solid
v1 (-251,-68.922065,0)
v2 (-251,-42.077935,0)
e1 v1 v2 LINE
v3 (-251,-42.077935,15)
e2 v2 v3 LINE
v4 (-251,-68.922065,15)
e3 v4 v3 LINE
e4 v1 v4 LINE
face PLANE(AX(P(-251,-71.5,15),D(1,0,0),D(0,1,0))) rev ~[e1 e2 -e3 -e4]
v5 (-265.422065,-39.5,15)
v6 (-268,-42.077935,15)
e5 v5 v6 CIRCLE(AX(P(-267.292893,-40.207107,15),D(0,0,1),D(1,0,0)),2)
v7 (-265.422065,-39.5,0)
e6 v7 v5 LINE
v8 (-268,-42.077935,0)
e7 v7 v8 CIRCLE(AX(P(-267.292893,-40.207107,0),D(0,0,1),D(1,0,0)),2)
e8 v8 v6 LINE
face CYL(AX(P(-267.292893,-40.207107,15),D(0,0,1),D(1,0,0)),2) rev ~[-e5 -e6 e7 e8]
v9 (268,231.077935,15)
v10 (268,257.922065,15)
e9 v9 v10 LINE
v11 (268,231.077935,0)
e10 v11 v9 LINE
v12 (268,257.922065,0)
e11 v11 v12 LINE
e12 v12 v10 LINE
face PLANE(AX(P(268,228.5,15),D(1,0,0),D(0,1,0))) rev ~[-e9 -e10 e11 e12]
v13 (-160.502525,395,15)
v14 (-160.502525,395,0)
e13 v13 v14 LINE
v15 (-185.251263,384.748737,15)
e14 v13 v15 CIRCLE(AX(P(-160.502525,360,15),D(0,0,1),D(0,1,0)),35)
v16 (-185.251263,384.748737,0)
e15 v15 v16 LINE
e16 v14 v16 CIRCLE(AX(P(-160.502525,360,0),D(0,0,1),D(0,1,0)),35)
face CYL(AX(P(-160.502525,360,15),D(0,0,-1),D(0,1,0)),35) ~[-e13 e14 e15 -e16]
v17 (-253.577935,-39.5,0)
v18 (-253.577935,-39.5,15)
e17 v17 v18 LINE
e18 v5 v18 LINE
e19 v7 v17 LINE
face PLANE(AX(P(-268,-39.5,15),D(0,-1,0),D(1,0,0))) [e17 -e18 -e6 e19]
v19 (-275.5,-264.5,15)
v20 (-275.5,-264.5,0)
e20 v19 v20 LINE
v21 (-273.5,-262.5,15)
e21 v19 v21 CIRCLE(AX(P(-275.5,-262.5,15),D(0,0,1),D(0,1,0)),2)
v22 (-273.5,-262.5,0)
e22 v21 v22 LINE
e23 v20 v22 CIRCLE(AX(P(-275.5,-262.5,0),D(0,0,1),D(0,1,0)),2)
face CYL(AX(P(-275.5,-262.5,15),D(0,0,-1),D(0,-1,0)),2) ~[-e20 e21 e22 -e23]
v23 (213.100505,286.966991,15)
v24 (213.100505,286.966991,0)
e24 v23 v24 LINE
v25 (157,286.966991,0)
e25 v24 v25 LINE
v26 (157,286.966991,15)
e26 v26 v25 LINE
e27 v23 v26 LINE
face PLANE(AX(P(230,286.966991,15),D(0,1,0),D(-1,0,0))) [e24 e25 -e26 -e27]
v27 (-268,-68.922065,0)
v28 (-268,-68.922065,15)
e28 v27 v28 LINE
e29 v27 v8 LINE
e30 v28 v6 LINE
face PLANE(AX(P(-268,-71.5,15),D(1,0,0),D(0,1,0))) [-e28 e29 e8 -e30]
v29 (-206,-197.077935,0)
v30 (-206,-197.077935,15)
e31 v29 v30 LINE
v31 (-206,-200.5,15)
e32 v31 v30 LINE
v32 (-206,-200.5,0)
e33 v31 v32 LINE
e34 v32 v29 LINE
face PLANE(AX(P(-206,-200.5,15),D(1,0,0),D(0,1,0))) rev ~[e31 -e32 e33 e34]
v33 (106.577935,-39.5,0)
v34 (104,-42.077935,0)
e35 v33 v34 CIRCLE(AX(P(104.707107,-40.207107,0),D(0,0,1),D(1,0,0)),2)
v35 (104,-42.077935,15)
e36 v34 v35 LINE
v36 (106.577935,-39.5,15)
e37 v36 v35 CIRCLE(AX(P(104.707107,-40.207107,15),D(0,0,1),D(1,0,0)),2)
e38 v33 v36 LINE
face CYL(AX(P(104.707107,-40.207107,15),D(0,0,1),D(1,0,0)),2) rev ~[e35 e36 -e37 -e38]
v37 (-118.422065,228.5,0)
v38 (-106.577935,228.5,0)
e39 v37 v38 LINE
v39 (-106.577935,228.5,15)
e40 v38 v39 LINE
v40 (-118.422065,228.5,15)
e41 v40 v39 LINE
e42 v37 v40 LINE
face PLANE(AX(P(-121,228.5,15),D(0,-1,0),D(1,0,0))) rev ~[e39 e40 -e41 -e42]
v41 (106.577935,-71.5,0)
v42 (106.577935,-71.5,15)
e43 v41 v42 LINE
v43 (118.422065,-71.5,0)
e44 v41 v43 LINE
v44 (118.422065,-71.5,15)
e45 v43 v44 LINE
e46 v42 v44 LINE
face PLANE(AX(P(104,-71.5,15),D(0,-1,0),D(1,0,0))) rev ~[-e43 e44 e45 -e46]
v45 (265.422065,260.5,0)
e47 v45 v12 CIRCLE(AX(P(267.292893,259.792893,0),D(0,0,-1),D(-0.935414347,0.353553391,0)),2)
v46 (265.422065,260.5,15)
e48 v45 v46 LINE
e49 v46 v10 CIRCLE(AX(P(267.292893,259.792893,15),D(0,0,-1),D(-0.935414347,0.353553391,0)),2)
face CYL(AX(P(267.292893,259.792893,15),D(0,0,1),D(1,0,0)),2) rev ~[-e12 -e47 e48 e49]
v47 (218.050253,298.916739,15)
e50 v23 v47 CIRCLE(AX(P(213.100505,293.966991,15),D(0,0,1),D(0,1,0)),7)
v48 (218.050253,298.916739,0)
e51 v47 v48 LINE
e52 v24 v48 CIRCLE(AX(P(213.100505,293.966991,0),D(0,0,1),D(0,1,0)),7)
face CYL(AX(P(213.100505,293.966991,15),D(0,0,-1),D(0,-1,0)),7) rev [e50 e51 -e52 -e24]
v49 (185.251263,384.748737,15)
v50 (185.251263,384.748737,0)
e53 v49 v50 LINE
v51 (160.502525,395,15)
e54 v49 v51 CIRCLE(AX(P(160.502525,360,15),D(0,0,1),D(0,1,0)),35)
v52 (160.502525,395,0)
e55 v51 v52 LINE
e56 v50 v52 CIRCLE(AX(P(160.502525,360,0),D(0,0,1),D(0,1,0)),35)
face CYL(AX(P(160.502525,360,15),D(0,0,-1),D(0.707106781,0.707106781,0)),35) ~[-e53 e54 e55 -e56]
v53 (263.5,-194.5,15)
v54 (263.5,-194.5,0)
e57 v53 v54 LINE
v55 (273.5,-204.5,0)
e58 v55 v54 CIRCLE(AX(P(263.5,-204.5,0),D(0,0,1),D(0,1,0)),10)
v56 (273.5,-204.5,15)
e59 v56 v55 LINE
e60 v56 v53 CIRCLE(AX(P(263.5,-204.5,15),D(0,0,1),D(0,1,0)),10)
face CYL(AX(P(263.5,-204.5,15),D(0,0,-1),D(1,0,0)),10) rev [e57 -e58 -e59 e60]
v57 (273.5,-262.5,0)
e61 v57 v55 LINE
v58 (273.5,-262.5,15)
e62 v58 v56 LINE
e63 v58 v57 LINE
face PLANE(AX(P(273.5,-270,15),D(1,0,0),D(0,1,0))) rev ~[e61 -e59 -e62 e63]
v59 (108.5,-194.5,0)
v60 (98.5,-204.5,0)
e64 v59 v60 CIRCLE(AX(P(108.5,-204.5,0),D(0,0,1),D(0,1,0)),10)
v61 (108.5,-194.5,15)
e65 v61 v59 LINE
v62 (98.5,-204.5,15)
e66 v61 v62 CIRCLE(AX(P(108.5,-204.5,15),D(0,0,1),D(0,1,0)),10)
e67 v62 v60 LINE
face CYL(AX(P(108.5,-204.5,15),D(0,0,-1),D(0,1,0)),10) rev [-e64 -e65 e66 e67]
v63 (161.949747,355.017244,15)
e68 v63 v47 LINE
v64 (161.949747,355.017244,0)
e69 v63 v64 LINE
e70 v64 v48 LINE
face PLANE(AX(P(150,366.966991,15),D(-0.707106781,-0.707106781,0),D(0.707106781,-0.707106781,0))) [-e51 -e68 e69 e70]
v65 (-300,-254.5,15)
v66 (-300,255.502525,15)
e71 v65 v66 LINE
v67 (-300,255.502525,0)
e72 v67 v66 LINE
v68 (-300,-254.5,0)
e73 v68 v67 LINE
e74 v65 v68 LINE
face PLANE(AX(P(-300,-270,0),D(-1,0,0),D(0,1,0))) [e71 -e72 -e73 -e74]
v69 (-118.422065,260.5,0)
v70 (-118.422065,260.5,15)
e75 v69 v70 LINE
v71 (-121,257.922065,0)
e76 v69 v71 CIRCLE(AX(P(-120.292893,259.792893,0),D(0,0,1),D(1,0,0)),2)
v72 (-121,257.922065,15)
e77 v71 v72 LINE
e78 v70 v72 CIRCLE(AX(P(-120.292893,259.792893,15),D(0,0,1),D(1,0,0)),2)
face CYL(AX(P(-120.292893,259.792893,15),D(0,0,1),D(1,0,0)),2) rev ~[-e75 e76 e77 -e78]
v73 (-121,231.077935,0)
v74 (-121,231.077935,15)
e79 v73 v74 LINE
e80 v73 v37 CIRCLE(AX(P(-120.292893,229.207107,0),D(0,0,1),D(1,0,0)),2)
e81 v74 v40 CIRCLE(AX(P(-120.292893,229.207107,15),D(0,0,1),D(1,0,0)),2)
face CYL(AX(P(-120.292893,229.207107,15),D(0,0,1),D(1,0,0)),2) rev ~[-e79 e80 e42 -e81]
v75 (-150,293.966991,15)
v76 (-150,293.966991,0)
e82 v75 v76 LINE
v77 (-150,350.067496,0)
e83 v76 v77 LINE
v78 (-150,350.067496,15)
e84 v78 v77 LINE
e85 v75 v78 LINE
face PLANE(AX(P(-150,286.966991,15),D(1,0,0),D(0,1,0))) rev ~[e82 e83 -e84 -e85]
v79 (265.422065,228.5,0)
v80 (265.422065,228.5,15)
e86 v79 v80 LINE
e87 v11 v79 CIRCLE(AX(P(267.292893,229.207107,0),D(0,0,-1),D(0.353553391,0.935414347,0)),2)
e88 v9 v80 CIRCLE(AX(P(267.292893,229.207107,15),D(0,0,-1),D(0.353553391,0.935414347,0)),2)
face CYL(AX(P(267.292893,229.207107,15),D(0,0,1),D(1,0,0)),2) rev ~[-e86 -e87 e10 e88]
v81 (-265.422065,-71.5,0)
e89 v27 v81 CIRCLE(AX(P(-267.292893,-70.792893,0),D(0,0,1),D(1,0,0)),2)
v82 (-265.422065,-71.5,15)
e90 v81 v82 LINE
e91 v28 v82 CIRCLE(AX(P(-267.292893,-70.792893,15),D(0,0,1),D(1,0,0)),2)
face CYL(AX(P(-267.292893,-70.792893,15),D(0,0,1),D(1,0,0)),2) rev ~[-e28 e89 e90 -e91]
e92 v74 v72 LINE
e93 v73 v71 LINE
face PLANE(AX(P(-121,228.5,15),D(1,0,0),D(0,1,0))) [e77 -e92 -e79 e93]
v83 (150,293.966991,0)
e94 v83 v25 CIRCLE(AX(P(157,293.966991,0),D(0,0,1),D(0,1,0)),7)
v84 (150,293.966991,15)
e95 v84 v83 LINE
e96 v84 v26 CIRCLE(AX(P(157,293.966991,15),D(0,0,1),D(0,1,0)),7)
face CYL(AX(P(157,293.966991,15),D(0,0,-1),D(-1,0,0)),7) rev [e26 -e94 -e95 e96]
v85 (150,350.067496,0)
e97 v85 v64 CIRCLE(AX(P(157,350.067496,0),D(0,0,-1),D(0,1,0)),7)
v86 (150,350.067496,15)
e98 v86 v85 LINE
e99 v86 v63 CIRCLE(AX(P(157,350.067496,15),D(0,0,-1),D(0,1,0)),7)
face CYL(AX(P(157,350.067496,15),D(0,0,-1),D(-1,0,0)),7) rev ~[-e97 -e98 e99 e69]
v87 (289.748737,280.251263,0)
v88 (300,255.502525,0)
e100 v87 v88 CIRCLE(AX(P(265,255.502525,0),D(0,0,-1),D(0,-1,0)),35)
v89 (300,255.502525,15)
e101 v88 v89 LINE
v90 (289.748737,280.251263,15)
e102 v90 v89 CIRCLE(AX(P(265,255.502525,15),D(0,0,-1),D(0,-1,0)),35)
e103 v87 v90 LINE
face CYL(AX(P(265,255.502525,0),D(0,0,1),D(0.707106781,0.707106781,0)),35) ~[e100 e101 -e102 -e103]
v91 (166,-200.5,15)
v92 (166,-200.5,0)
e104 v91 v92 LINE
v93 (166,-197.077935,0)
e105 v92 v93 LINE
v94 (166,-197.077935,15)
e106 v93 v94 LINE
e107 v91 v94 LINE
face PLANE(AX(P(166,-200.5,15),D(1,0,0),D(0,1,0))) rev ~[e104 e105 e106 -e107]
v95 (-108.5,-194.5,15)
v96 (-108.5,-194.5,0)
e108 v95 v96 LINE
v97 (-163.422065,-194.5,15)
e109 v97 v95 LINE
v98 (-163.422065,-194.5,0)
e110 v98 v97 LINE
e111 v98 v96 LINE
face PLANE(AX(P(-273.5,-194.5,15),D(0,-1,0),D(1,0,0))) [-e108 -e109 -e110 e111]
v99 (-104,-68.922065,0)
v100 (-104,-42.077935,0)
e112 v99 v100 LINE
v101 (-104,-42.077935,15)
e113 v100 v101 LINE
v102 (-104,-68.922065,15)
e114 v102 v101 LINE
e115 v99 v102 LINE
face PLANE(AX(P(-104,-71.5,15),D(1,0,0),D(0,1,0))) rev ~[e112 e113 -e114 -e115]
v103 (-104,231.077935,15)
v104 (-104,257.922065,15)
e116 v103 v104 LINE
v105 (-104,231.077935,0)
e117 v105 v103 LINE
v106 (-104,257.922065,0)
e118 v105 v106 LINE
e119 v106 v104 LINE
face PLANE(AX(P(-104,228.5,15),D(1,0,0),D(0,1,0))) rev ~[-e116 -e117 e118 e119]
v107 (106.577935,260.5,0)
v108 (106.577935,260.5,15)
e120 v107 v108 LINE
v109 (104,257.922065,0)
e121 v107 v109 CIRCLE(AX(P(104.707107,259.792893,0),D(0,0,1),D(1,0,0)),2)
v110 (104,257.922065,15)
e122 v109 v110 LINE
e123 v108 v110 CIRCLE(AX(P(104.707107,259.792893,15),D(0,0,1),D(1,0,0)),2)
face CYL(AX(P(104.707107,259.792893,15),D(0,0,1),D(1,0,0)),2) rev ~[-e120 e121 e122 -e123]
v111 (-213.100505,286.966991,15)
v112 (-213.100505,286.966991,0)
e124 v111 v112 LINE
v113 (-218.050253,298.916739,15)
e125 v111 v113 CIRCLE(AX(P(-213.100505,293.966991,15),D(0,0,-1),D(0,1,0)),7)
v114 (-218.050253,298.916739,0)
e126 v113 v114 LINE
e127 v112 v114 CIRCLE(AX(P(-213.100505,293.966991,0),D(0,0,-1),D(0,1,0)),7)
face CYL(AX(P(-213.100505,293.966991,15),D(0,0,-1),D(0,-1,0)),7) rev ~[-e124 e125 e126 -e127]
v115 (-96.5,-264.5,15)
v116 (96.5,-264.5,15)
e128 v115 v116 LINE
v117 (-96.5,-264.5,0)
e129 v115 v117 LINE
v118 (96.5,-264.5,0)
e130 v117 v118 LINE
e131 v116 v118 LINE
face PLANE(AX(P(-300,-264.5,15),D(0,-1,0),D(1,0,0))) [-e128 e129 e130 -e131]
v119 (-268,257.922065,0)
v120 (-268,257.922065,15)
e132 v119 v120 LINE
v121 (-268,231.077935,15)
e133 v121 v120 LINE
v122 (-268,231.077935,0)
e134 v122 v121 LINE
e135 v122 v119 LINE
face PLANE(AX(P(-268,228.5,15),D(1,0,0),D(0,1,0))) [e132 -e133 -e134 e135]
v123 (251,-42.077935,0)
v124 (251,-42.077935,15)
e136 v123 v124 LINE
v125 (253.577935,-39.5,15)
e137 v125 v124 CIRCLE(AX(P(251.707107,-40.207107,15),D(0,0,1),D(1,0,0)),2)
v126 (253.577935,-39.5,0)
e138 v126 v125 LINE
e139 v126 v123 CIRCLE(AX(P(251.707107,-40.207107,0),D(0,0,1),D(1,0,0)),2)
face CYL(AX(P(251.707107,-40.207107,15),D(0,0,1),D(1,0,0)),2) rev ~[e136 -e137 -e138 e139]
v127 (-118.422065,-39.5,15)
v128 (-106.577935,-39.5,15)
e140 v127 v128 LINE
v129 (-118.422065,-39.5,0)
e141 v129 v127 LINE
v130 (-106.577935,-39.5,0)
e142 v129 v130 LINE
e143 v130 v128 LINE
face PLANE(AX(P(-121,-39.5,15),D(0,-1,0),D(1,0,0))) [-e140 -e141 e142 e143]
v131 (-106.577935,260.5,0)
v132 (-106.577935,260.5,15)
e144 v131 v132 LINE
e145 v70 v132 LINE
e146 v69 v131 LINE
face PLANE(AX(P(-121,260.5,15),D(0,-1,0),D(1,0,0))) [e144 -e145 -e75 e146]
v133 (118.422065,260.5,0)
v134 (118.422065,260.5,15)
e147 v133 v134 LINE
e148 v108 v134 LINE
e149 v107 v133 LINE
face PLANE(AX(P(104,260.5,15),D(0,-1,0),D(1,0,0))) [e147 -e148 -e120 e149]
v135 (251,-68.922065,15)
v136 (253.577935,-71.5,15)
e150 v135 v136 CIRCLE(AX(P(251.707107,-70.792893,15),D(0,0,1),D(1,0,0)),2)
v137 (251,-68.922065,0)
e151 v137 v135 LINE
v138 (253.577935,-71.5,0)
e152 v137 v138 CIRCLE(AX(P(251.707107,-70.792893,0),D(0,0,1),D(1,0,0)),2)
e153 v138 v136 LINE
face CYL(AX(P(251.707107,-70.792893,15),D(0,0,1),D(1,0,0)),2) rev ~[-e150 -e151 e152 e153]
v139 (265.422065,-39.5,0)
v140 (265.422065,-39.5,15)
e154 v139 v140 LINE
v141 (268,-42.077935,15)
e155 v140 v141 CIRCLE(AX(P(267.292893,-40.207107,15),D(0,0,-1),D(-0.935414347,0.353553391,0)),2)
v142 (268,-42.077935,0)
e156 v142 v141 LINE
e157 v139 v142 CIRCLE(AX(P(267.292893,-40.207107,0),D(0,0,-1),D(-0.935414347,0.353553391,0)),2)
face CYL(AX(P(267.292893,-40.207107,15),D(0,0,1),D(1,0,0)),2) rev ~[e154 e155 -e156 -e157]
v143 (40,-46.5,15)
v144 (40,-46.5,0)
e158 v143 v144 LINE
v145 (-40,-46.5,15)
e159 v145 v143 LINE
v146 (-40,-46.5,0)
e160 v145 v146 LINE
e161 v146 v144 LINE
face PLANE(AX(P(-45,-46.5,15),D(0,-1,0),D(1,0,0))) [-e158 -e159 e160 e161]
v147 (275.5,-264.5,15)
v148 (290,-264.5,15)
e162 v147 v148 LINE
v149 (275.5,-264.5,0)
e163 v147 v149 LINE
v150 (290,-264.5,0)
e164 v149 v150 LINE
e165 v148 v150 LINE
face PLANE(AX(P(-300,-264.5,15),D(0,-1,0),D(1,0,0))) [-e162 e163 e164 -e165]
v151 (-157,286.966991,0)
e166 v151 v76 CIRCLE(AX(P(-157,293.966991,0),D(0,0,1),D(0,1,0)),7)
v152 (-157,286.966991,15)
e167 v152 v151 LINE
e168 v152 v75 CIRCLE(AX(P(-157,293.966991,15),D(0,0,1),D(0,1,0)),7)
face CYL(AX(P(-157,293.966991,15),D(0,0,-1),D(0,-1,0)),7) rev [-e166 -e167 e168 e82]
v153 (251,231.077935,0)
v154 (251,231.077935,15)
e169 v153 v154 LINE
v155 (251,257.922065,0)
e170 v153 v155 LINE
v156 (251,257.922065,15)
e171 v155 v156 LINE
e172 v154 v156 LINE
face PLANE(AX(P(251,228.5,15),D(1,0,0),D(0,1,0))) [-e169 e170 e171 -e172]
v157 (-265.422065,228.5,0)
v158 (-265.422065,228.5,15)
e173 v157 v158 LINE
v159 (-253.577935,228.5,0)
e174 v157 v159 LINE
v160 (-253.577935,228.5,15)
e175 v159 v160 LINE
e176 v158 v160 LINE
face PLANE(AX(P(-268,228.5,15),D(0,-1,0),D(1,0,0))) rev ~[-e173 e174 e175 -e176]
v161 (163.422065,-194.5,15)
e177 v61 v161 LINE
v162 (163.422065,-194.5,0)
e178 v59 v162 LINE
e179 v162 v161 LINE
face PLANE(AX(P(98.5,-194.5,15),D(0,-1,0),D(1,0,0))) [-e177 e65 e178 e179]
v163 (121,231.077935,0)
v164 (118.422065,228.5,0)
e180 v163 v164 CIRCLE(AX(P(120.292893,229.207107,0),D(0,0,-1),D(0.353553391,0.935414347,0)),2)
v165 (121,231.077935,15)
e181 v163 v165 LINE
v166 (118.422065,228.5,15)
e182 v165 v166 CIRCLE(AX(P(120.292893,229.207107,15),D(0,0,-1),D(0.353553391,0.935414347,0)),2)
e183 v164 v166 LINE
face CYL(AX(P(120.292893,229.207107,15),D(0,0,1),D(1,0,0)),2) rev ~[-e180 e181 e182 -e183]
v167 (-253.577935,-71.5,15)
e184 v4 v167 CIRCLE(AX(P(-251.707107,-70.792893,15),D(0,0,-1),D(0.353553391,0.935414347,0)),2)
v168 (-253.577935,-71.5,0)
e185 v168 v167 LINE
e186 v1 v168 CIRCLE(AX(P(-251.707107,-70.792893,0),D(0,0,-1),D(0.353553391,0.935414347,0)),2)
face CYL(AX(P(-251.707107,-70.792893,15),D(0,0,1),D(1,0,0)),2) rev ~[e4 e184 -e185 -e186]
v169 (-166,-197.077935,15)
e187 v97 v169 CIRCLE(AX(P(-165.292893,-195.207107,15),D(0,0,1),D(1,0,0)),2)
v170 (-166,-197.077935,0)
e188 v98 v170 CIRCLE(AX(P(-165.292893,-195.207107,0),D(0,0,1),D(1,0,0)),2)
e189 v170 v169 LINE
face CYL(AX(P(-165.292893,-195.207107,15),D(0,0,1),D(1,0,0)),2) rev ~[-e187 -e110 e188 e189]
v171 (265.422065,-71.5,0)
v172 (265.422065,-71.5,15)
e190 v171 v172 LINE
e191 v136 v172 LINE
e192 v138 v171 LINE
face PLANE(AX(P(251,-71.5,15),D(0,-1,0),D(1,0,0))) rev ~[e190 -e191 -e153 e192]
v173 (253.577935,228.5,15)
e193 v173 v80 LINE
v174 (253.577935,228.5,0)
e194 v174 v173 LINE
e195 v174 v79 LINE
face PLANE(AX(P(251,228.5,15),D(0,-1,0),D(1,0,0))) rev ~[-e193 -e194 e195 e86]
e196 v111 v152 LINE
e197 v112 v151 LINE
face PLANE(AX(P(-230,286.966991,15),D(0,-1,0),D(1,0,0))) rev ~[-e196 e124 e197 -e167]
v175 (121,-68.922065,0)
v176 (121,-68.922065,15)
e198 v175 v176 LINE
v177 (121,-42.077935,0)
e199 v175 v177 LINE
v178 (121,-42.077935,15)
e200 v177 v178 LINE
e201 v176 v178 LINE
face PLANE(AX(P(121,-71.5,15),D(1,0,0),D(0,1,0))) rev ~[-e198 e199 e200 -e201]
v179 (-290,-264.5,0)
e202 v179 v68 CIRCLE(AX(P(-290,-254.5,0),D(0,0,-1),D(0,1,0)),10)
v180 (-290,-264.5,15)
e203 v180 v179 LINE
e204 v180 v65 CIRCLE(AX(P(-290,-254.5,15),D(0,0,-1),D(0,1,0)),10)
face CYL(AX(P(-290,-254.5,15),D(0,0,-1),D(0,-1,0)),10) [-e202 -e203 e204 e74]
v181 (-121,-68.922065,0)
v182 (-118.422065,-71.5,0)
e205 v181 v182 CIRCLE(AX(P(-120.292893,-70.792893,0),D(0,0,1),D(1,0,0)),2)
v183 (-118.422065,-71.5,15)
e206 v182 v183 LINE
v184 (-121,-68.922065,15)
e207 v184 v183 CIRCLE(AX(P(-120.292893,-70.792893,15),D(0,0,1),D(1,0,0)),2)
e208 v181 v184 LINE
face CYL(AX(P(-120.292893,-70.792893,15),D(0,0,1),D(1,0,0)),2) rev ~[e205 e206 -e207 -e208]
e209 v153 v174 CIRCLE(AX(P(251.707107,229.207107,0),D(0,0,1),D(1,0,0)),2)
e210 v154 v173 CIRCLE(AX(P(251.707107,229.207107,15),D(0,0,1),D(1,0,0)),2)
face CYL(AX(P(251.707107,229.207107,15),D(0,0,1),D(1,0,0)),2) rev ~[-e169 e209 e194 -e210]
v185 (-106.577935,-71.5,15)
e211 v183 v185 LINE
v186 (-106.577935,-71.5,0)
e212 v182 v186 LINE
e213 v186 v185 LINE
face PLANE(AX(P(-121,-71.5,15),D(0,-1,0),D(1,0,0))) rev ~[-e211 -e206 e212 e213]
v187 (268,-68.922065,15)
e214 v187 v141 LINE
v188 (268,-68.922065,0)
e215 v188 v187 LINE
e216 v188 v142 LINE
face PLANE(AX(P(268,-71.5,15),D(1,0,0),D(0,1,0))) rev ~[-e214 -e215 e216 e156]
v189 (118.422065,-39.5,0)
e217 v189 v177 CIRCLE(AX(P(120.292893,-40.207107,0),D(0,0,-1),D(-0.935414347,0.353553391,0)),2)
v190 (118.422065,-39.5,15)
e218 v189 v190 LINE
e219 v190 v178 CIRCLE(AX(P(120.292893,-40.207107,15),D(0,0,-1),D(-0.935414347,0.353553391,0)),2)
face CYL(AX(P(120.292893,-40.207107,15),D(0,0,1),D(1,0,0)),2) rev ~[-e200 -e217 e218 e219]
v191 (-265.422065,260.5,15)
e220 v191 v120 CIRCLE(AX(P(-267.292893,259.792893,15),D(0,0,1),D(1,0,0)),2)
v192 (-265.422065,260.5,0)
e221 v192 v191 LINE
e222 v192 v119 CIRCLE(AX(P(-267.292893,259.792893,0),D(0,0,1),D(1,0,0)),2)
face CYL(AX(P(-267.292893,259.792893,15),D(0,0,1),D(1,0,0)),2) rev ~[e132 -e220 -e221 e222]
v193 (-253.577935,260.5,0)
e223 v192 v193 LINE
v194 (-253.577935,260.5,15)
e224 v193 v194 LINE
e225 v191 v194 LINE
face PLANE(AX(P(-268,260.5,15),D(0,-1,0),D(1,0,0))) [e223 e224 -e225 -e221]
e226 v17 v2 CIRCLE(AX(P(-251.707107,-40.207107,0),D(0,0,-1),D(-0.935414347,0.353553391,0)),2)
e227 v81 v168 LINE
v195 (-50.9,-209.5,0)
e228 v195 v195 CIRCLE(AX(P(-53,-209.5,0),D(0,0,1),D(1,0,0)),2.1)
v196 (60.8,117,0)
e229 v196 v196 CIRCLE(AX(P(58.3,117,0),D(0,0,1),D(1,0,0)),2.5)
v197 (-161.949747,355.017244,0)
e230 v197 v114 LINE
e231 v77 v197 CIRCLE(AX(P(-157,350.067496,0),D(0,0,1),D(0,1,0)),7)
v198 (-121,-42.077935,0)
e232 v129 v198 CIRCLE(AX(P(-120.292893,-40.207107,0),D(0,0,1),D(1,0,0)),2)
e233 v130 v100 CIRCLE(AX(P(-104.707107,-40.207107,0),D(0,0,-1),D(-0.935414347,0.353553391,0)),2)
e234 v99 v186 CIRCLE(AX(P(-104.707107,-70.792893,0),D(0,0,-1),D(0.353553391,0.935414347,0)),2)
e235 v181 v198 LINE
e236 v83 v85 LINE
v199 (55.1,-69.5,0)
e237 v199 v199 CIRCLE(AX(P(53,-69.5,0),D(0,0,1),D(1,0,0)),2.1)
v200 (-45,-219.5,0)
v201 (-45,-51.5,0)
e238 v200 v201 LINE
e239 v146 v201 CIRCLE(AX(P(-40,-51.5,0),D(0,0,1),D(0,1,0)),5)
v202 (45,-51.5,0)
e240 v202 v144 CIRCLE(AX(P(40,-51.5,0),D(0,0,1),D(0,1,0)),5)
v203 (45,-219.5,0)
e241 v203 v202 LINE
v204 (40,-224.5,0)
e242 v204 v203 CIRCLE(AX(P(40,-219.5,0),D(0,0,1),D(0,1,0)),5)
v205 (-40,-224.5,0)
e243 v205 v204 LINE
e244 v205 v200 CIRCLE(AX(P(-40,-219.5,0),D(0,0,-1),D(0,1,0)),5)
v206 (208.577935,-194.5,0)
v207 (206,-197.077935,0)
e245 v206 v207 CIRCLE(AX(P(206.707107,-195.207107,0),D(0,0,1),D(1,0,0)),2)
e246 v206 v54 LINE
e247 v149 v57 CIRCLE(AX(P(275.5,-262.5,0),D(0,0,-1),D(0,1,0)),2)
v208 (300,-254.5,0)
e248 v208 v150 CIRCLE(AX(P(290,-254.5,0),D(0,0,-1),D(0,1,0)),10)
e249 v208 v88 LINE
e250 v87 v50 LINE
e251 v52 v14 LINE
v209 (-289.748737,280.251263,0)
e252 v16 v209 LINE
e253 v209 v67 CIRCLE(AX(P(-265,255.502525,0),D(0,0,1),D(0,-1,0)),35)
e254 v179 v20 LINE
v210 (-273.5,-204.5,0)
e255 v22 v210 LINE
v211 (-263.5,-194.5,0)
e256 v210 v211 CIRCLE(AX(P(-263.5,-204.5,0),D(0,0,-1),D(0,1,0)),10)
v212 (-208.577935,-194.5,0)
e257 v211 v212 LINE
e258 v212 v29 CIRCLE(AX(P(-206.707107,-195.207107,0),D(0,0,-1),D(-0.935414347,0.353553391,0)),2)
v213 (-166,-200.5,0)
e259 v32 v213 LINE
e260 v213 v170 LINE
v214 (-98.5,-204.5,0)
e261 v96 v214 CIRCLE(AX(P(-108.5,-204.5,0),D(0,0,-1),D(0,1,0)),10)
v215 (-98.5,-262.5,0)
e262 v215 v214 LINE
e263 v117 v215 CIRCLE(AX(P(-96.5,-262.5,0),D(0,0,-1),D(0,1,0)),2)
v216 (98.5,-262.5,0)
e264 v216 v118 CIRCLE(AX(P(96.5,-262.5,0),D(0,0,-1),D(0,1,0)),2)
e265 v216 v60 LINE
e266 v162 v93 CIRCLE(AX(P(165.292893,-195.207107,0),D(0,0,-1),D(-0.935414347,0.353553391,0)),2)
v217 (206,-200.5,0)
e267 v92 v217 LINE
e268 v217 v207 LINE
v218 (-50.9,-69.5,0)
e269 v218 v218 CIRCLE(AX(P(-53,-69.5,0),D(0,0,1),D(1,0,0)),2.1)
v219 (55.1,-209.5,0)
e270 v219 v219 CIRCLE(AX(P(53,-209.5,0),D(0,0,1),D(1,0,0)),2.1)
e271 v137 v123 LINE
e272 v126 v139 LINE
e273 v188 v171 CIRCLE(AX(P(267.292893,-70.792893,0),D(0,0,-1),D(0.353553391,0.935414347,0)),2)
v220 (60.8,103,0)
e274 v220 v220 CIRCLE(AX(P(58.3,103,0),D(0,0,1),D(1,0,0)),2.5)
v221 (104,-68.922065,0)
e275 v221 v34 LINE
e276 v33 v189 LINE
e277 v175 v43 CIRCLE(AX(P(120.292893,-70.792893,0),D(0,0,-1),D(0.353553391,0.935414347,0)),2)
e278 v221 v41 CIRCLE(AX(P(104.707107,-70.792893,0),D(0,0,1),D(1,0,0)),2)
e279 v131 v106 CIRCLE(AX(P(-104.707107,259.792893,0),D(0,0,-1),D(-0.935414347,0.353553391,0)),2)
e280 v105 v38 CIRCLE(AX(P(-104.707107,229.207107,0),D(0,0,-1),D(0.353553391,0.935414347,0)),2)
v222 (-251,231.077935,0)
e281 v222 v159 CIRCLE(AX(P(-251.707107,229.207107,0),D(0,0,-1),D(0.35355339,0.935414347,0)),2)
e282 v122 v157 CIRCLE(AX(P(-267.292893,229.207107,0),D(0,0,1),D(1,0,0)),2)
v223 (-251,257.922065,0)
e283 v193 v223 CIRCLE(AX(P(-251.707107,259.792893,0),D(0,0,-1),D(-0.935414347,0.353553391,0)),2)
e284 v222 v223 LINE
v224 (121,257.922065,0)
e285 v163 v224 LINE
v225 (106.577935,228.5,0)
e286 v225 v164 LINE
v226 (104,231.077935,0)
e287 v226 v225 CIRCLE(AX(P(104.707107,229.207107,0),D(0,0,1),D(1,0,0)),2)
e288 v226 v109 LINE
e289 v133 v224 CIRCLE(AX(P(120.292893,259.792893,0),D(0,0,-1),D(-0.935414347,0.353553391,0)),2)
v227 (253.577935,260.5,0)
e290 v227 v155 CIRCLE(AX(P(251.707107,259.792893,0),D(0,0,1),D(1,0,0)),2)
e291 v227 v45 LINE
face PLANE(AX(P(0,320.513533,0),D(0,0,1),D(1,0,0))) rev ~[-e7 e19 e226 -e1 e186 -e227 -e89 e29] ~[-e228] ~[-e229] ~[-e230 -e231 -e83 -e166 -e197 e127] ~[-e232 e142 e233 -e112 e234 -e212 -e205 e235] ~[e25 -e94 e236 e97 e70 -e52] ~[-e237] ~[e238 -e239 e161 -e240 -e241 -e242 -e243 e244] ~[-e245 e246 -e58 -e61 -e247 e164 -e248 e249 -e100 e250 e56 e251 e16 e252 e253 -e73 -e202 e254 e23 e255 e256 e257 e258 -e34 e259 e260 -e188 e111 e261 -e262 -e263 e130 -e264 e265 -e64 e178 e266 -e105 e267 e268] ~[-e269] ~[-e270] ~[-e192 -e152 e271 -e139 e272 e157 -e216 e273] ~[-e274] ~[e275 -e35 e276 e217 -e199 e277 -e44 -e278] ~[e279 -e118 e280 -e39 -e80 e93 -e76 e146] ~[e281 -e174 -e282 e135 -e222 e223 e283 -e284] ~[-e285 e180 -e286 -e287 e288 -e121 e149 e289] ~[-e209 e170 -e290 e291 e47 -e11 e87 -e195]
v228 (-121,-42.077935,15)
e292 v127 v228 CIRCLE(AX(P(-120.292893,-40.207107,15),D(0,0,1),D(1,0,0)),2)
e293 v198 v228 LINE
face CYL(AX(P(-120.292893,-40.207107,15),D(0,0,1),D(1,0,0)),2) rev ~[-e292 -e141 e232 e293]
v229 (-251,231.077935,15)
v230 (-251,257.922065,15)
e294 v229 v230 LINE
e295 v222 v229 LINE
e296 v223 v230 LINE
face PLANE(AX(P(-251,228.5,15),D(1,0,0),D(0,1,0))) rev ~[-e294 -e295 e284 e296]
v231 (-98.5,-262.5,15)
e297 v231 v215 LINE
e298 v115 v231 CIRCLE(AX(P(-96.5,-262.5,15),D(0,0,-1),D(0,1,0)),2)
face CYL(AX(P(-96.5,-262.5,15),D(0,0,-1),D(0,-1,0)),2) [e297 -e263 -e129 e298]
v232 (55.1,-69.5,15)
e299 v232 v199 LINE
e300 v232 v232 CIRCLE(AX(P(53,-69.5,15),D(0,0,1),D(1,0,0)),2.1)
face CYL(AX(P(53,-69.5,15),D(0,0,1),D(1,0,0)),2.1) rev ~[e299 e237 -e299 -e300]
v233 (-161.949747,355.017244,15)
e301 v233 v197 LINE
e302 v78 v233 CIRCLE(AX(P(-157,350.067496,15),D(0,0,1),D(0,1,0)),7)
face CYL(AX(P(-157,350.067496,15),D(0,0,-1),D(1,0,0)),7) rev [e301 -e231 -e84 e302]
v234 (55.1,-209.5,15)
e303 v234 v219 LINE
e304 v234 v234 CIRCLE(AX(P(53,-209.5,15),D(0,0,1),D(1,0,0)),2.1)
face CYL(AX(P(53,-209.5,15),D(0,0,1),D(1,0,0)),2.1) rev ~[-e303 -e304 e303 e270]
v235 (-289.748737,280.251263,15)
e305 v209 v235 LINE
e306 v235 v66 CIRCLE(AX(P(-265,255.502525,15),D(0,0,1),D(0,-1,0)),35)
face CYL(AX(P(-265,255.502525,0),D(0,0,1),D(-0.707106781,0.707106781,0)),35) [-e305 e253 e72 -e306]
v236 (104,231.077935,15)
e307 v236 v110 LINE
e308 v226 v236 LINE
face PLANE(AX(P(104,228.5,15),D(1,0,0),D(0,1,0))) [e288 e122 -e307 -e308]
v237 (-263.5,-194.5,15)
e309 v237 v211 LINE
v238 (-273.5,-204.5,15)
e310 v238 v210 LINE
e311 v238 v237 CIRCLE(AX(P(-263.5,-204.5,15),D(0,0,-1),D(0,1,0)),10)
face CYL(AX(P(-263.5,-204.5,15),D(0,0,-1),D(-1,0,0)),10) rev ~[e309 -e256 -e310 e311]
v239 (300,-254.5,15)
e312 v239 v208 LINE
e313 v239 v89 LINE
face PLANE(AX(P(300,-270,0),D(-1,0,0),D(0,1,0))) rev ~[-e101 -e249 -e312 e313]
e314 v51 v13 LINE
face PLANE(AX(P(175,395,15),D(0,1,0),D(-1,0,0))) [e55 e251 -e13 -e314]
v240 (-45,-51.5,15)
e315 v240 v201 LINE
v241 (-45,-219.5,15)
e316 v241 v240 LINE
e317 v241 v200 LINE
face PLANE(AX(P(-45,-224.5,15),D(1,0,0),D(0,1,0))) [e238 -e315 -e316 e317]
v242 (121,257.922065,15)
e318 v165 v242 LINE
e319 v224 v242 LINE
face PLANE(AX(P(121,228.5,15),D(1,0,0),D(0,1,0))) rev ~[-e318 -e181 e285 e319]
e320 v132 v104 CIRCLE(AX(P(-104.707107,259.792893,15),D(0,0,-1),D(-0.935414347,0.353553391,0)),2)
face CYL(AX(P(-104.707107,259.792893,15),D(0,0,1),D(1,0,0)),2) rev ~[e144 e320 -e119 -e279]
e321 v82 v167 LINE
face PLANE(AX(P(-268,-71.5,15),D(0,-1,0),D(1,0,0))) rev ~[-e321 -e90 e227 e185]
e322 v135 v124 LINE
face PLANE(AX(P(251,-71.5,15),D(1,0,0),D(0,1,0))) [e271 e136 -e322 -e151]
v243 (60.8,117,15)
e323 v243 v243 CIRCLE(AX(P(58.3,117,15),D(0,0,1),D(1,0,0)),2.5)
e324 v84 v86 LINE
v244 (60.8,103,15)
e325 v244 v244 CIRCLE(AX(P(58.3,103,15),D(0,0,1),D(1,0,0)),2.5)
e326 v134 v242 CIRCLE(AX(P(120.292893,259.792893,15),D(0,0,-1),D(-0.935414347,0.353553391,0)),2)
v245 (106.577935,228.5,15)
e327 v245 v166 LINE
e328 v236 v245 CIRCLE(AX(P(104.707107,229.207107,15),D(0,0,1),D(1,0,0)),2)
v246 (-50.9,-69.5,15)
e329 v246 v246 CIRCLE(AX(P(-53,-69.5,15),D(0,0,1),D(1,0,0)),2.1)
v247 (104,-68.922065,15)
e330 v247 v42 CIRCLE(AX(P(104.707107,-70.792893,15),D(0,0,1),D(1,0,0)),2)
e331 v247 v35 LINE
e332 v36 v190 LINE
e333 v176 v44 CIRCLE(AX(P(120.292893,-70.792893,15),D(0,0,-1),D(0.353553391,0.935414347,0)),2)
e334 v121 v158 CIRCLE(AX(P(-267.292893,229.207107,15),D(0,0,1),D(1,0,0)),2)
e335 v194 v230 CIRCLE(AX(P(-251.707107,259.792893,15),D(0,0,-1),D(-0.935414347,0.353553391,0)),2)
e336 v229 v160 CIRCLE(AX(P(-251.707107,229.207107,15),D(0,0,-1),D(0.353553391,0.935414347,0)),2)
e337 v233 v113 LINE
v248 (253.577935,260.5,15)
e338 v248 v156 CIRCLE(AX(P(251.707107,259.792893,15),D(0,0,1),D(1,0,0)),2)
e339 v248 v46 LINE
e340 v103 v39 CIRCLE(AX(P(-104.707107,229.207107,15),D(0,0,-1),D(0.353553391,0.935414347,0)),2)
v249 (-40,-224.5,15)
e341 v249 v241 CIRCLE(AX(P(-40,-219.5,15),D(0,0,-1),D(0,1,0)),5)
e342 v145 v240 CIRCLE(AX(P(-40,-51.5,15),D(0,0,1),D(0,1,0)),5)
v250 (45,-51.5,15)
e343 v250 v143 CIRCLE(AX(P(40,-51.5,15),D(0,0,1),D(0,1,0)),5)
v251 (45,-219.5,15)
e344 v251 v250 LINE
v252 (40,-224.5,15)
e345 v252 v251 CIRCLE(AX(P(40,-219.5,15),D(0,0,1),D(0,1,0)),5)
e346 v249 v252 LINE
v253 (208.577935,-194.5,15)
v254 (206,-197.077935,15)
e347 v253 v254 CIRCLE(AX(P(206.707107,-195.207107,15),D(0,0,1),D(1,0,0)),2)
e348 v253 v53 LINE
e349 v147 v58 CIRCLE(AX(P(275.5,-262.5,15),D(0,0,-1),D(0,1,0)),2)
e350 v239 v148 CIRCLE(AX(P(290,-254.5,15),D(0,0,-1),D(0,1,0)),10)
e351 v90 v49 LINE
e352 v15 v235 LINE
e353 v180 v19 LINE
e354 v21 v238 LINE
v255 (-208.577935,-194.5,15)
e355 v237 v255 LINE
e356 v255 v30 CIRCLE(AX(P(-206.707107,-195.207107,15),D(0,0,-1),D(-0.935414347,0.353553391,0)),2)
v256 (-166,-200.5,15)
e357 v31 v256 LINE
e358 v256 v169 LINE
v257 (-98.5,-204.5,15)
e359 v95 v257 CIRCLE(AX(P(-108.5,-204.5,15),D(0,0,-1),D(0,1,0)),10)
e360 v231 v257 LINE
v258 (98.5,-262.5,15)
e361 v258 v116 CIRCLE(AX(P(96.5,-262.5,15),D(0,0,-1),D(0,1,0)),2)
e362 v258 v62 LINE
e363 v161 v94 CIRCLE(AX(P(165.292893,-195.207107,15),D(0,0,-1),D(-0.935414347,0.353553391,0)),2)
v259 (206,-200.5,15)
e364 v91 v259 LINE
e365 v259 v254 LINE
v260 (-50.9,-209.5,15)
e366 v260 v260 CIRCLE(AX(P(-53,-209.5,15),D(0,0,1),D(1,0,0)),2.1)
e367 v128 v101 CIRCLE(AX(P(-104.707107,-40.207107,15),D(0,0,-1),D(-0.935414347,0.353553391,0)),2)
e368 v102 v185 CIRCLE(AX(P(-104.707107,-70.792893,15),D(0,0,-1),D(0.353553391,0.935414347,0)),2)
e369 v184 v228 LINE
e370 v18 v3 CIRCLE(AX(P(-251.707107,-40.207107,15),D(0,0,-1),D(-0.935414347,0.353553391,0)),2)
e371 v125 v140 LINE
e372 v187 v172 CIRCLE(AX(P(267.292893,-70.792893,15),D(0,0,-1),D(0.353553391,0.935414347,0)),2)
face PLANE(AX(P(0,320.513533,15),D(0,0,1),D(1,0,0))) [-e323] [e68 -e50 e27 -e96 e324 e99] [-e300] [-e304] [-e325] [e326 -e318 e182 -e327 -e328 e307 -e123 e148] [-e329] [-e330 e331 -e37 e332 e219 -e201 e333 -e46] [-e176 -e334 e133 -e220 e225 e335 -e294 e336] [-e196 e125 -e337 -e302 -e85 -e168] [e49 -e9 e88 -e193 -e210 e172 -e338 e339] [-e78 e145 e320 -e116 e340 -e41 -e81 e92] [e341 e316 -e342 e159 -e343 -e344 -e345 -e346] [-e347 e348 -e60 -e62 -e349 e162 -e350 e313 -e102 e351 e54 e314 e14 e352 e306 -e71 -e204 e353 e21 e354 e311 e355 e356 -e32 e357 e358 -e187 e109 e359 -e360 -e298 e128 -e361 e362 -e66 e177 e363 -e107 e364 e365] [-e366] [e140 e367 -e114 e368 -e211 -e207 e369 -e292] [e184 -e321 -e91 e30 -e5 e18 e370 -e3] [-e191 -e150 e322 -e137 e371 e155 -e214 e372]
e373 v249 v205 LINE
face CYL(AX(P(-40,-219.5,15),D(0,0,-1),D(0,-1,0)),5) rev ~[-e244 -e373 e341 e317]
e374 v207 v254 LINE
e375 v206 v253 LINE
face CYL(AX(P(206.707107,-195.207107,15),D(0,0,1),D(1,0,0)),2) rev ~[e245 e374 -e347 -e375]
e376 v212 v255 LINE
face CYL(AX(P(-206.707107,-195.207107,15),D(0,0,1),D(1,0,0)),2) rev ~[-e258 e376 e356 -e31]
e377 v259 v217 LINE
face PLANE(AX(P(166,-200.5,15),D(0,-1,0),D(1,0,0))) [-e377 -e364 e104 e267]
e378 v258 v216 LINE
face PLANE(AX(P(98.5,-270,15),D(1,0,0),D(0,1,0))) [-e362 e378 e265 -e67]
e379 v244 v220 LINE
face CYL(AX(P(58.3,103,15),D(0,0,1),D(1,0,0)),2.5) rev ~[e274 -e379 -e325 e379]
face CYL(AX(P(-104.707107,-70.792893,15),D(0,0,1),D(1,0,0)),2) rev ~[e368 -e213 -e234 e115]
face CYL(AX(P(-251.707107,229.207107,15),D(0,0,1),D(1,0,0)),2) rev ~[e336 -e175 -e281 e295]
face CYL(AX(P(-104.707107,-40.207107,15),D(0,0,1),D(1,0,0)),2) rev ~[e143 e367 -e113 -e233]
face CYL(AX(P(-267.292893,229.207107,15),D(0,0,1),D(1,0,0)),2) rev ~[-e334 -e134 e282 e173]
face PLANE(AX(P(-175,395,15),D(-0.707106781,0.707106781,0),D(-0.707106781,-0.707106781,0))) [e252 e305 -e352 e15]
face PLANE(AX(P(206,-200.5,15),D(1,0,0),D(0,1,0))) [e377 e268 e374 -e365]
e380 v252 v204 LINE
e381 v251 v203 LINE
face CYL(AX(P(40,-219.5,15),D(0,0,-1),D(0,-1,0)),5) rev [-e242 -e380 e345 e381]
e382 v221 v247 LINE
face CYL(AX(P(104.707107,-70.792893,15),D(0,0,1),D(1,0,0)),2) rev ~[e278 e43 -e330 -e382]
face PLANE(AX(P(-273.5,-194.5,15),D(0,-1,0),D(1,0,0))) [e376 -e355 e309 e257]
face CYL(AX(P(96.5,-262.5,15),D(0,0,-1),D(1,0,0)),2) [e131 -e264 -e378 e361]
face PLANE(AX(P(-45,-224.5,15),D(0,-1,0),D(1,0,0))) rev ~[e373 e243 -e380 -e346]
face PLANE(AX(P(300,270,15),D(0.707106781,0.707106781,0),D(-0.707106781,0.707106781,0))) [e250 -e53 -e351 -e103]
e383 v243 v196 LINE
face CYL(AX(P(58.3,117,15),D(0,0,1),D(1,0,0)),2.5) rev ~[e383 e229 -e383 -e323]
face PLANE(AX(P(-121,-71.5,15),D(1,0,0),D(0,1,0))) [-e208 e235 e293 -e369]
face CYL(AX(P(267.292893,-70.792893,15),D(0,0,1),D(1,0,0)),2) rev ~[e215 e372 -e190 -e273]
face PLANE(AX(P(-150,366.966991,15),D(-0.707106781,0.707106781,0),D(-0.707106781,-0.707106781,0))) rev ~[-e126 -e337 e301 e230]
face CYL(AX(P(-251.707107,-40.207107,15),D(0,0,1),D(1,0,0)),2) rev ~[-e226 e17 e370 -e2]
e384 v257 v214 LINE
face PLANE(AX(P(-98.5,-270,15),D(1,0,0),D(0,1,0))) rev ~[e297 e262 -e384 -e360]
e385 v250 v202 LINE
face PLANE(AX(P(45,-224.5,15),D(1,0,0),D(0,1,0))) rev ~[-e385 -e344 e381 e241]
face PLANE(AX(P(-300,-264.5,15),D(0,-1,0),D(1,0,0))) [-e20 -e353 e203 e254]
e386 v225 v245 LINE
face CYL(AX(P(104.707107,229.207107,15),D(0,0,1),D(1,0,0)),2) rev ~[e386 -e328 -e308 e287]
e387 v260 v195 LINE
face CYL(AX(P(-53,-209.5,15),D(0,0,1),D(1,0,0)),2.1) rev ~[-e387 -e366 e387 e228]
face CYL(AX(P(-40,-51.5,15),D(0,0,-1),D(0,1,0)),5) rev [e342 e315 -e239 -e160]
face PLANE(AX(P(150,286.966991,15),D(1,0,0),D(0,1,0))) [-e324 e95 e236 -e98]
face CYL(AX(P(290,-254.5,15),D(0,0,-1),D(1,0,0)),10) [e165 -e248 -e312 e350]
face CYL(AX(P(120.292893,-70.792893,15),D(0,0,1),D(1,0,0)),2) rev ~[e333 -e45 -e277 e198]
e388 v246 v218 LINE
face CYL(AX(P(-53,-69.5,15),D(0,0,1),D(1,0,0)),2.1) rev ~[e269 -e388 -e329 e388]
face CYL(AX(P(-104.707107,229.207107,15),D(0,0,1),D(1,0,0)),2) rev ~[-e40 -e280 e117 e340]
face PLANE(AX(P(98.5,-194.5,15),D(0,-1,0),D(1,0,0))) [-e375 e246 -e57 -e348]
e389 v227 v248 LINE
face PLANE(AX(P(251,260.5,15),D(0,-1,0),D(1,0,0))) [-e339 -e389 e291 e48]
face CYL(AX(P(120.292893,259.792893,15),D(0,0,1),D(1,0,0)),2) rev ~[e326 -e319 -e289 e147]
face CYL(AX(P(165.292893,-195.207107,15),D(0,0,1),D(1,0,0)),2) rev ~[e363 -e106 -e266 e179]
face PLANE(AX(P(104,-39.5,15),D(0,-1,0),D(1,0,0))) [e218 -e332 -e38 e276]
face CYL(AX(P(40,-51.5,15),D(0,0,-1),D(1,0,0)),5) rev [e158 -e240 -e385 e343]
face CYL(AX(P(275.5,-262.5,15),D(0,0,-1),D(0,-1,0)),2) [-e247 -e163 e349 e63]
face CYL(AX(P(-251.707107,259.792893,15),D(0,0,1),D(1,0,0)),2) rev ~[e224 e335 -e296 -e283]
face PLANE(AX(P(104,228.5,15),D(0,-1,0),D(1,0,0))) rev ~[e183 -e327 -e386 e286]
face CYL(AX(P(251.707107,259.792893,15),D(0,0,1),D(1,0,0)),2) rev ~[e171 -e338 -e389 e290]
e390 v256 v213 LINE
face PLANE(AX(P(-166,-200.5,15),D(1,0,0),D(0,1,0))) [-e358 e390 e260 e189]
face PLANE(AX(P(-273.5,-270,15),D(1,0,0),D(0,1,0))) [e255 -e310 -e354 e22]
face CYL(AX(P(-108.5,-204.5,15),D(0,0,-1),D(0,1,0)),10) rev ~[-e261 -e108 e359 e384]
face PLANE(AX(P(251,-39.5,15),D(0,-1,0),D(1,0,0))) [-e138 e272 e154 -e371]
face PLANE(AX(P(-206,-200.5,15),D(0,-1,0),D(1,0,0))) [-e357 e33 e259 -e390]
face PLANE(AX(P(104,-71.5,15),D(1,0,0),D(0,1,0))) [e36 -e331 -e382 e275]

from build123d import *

# Parameters (mm, degrees)
SKETCH1_W           = 600
SKETCH1_H           = 540
BOSS_EXTRUDE1_DEPTH = 15
SKETCH2_W           = 175
SKETCH2_H           = 75.5
CUT_EXTRUDE1_DEPTH  = 404.887360535
SKETCH4_W           = 17
SKETCH4_H           = 32
CUT_EXTRUDE3_DEPTH  = 404.887360535
FILLET3_R           = 10
SKETCH5_W           = 40
SKETCH5_H           = 6
BOSS_EXTRUDE2_DEPTH = 15
SKETCH6_R           = 2.5
CUT_EXTRUDE4_DEPTH  = 404.887360535
BOSS_EXTRUDE3_DEPTH = 15
FILLET4_R           = 35
CUT_EXTRUDE5_DEPTH  = 15
FILLET5_R           = 7
SKETCH9_W           = 600
SKETCH9_H           = 5.5
CUT_EXTRUDE6_DEPTH  = 497.235831032
FILLET7_R           = 10
FILLET8_R           = 2
SKETCH10_W          = 90
SKETCH10_H          = 178
CUT_EXTRUDE7_DEPTH  = 15
FILLET9_R           = 5
SKETCH11_R          = 2.1
CUT_EXTRUDE8_DEPTH  = 15
SKETCH12_R          = 2
CUT_EXTRUDE9_DEPTH  = 497.235831032
SKETCH13_R          = 2
CUT_EXTRUDE10_DEPTH = 497.235831032


with BuildPart() as part:
    # Sketch1 → Boss-Extrude1 (new body)
    with BuildSketch(Plane.XY):
        Rectangle(SKETCH1_W, SKETCH1_H)
    extrude(amount=BOSS_EXTRUDE1_DEPTH)

    # Sketch2 → Cut-Extrude1 (cut, through all)
    with BuildSketch(Plane.XY.offset(15)):
        with Locations((-186, -232.25)):
            Rectangle(SKETCH2_W, SKETCH2_H)
        with Locations((186, -232.25)):
            Rectangle(SKETCH2_W, SKETCH2_H)
    extrude(amount=-CUT_EXTRUDE1_DEPTH, mode=Mode.SUBTRACT)

    # Sketch4 → Cut-Extrude3 (cut, through all)
    with BuildSketch(Plane.XY.offset(15)):
        with Locations((-259.5, 244.5)):
            Rectangle(SKETCH4_W, SKETCH4_H)
        with Locations((-112.5, 244.5)):
            Rectangle(SKETCH4_W, SKETCH4_H)
        with Locations((-259.5, -55.5)):
            Rectangle(SKETCH4_W, SKETCH4_H)
        with Locations((-112.5, -55.5)):
            Rectangle(SKETCH4_W, SKETCH4_H)
        with Locations((112.5, -55.5)):
            Rectangle(SKETCH4_W, SKETCH4_H)
        with Locations((259.5, -55.5)):
            Rectangle(SKETCH4_W, SKETCH4_H)
        with Locations((112.5, 244.5)):
            Rectangle(SKETCH4_W, SKETCH4_H)
        with Locations((259.5, 244.5)):
            Rectangle(SKETCH4_W, SKETCH4_H)
    extrude(amount=-CUT_EXTRUDE3_DEPTH, mode=Mode.SUBTRACT)

    # Fillet3
    fillet3_edges = [part.edges().sort_by_distance(p)[0] for p in [
        (-273.5, -194.5, 7.5),
        (-98.5, -194.5, 7.5),
        (98.5, -194.5, 7.5),
        (273.5, -194.5, 7.5),
    ]]
    fillet(fillet3_edges, radius=FILLET3_R)

    # Sketch5 → Boss-Extrude2 (add)
    with BuildSketch(Plane.XY.offset(15)):
        with Locations((-186, -197.5)):
            Rectangle(SKETCH5_W, SKETCH5_H)
        with Locations((186, -197.5)):
            Rectangle(SKETCH5_W, SKETCH5_H)
    extrude(amount=-BOSS_EXTRUDE2_DEPTH)

    # Sketch6 → Cut-Extrude4 (cut, through all)
    with BuildSketch(Plane.XY.offset(15)):
        with Locations((58.3, 117)):
            Circle(SKETCH6_R)
        with Locations((58.3, 103)):
            Circle(SKETCH6_R)
    extrude(amount=-CUT_EXTRUDE4_DEPTH, mode=Mode.SUBTRACT)

    # Sketch7 → Boss-Extrude3 (add)
    with BuildSketch(Plane.XY.offset(15)):
        Polygon((-300, 270), (300, 270), (175, 395), (-175, 395), align=None)
    extrude(amount=-BOSS_EXTRUDE3_DEPTH)

    # Fillet4
    fillet4_edges = [part.edges().sort_by_distance(p)[0] for p in [
        (-175, 395, 7.5),
        (175, 395, 7.5),
        (-300, 270, 7.5),
        (300, 270, 7.5),
    ]]
    fillet(fillet4_edges, radius=FILLET4_R)

    # Sketch8 → Cut-Extrude5 (cut)
    with BuildSketch(Plane.XY.offset(15)):
        Polygon((-230, 286.966991411), (-150, 286.966991411), (-150, 366.966991411), align=None)
        Polygon((150, 366.966991411), (230, 286.966991411), (150, 286.966991411), align=None)
    extrude(amount=-CUT_EXTRUDE5_DEPTH, mode=Mode.SUBTRACT)

    # Fillet5
    fillet5_edges = [part.edges().sort_by_distance(p)[0] for p in [
        (-230, 286.966991411, 7.5),
        (-150, 366.966991411, 7.5),
        (-150, 286.966991411, 7.5),
        (150, 286.966991411, 7.5),
        (150, 366.966991411, 7.5),
        (230, 286.966991411, 7.5),
    ]]
    fillet(fillet5_edges, radius=FILLET5_R)

    # Sketch9 → Cut-Extrude6 (cut, through all)
    with BuildSketch(Plane.XY.offset(15)):
        with Locations((0, -267.25)):
            Rectangle(SKETCH9_W, SKETCH9_H)
    extrude(amount=-CUT_EXTRUDE6_DEPTH, mode=Mode.SUBTRACT)

    # Fillet7
    fillet7_edges = [part.edges().sort_by_distance(p)[0] for p in [
        (-300, -264.5, 7.5),
        (300, -264.5, 7.5),
    ]]
    fillet(fillet7_edges, radius=FILLET7_R)

    # Fillet8
    fillet8_edges = [part.edges().sort_by_distance(p)[0] for p in [
        (-98.5, -264.5, 7.5),
        (98.5, -264.5, 7.5),
        (273.5, -264.5, 7.5),
        (-273.5, -264.5, 7.5),
    ]]
    fillet(fillet8_edges, radius=FILLET8_R)

    # Sketch10 → Cut-Extrude7 (cut)
    with BuildSketch(Plane.XY.offset(15)):
        with Locations((0, -135.5)):
            Rectangle(SKETCH10_W, SKETCH10_H)
    extrude(amount=-CUT_EXTRUDE7_DEPTH, mode=Mode.SUBTRACT)

    # Fillet9
    fillet9_edges = [part.edges().sort_by_distance(p)[0] for p in [
        (-45, -224.5, 7.5),
        (-45, -46.5, 7.5),
        (45, -46.5, 7.5),
        (45, -224.5, 7.5),
    ]]
    fillet(fillet9_edges, radius=FILLET9_R)

    # Sketch11 → Cut-Extrude8 (cut)
    with BuildSketch(Plane.XY.offset(15)):
        with Locations((53, -69.5)):
            Circle(SKETCH11_R)
        with Locations((53, -209.5)):
            Circle(SKETCH11_R)
        with Locations((-53, -209.5)):
            Circle(SKETCH11_R)
        with Locations((-53, -69.5)):
            Circle(SKETCH11_R)
    extrude(amount=-CUT_EXTRUDE8_DEPTH, mode=Mode.SUBTRACT)

    # Sketch12 → Cut-Extrude9 (cut, through all)
    with BuildSketch(Plane.XY.offset(15)):
        with Locations((-251.707106781, 259.792893219)):
            Circle(SKETCH12_R)
        with Locations((-267.292893219, 259.792893219)):
            Circle(SKETCH12_R)
        with Locations((-267.292893219, 229.207106781)):
            Circle(SKETCH12_R)
        with Locations((-251.707106781, 229.207106781)):
            Circle(SKETCH12_R)
        with Locations((-104.707106781, 259.792893219)):
            Circle(SKETCH12_R)
        with Locations((-120.292893219, 259.792893219)):
            Circle(SKETCH12_R)
        with Locations((-120.292893219, 229.207106781)):
            Circle(SKETCH12_R)
        with Locations((-104.707106781, 229.207106781)):
            Circle(SKETCH12_R)
        with Locations((-104.707106781, -40.207106781)):
            Circle(SKETCH12_R)
        with Locations((-120.292893219, -40.207106781)):
            Circle(SKETCH12_R)
        with Locations((-120.292893219, -70.792893219)):
            Circle(SKETCH12_R)
        with Locations((-104.707106781, -70.792893219)):
            Circle(SKETCH12_R)
        with Locations((-251.707106781, -40.207106781)):
            Circle(SKETCH12_R)
        with Locations((-267.292893219, -40.207106781)):
            Circle(SKETCH12_R)
        with Locations((-267.292893219, -70.792893219)):
            Circle(SKETCH12_R)
        with Locations((-251.707106781, -70.792893219)):
            Circle(SKETCH12_R)
        with Locations((251.707106781, -70.792893219)):
            Circle(SKETCH12_R)
        with Locations((267.292893219, -70.792893219)):
            Circle(SKETCH12_R)
        with Locations((267.292893219, -40.207106781)):
            Circle(SKETCH12_R)
        with Locations((251.707106781, -40.207106781)):
            Circle(SKETCH12_R)
        with Locations((104.707106781, -70.792893219)):
            Circle(SKETCH12_R)
        with Locations((120.292893219, -70.792893219)):
            Circle(SKETCH12_R)
        with Locations((120.292893219, -40.207106781)):
            Circle(SKETCH12_R)
        with Locations((104.707106781, -40.207106781)):
            Circle(SKETCH12_R)
        with Locations((104.707106781, 229.207106781)):
            Circle(SKETCH12_R)
        with Locations((120.292893219, 229.207106781)):
            Circle(SKETCH12_R)
        with Locations((120.292893219, 259.792893219)):
            Circle(SKETCH12_R)
        with Locations((104.707106781, 259.792893219)):
            Circle(SKETCH12_R)
        with Locations((251.707106781, 229.207106781)):
            Circle(SKETCH12_R)
        with Locations((267.292893219, 229.207106781)):
            Circle(SKETCH12_R)
        with Locations((267.292893219, 259.792893219)):
            Circle(SKETCH12_R)
        with Locations((251.707106781, 259.792893219)):
            Circle(SKETCH12_R)
    extrude(amount=-CUT_EXTRUDE9_DEPTH, mode=Mode.SUBTRACT)

    # Sketch13 → Cut-Extrude10 (cut, through all)
    with BuildSketch(Plane.XY.offset(15)):
        with Locations((-206.707106781, -195.207106781)):
            Circle(SKETCH13_R)
        with Locations((-165.292893219, -195.207106781)):
            Circle(SKETCH13_R)
        with Locations((165.292893219, -195.207106781)):
            Circle(SKETCH13_R)
        with Locations((206.707106781, -195.207106781)):
            Circle(SKETCH13_R)
    extrude(amount=-CUT_EXTRUDE10_DEPTH, mode=Mode.SUBTRACT)


solid = part.part
